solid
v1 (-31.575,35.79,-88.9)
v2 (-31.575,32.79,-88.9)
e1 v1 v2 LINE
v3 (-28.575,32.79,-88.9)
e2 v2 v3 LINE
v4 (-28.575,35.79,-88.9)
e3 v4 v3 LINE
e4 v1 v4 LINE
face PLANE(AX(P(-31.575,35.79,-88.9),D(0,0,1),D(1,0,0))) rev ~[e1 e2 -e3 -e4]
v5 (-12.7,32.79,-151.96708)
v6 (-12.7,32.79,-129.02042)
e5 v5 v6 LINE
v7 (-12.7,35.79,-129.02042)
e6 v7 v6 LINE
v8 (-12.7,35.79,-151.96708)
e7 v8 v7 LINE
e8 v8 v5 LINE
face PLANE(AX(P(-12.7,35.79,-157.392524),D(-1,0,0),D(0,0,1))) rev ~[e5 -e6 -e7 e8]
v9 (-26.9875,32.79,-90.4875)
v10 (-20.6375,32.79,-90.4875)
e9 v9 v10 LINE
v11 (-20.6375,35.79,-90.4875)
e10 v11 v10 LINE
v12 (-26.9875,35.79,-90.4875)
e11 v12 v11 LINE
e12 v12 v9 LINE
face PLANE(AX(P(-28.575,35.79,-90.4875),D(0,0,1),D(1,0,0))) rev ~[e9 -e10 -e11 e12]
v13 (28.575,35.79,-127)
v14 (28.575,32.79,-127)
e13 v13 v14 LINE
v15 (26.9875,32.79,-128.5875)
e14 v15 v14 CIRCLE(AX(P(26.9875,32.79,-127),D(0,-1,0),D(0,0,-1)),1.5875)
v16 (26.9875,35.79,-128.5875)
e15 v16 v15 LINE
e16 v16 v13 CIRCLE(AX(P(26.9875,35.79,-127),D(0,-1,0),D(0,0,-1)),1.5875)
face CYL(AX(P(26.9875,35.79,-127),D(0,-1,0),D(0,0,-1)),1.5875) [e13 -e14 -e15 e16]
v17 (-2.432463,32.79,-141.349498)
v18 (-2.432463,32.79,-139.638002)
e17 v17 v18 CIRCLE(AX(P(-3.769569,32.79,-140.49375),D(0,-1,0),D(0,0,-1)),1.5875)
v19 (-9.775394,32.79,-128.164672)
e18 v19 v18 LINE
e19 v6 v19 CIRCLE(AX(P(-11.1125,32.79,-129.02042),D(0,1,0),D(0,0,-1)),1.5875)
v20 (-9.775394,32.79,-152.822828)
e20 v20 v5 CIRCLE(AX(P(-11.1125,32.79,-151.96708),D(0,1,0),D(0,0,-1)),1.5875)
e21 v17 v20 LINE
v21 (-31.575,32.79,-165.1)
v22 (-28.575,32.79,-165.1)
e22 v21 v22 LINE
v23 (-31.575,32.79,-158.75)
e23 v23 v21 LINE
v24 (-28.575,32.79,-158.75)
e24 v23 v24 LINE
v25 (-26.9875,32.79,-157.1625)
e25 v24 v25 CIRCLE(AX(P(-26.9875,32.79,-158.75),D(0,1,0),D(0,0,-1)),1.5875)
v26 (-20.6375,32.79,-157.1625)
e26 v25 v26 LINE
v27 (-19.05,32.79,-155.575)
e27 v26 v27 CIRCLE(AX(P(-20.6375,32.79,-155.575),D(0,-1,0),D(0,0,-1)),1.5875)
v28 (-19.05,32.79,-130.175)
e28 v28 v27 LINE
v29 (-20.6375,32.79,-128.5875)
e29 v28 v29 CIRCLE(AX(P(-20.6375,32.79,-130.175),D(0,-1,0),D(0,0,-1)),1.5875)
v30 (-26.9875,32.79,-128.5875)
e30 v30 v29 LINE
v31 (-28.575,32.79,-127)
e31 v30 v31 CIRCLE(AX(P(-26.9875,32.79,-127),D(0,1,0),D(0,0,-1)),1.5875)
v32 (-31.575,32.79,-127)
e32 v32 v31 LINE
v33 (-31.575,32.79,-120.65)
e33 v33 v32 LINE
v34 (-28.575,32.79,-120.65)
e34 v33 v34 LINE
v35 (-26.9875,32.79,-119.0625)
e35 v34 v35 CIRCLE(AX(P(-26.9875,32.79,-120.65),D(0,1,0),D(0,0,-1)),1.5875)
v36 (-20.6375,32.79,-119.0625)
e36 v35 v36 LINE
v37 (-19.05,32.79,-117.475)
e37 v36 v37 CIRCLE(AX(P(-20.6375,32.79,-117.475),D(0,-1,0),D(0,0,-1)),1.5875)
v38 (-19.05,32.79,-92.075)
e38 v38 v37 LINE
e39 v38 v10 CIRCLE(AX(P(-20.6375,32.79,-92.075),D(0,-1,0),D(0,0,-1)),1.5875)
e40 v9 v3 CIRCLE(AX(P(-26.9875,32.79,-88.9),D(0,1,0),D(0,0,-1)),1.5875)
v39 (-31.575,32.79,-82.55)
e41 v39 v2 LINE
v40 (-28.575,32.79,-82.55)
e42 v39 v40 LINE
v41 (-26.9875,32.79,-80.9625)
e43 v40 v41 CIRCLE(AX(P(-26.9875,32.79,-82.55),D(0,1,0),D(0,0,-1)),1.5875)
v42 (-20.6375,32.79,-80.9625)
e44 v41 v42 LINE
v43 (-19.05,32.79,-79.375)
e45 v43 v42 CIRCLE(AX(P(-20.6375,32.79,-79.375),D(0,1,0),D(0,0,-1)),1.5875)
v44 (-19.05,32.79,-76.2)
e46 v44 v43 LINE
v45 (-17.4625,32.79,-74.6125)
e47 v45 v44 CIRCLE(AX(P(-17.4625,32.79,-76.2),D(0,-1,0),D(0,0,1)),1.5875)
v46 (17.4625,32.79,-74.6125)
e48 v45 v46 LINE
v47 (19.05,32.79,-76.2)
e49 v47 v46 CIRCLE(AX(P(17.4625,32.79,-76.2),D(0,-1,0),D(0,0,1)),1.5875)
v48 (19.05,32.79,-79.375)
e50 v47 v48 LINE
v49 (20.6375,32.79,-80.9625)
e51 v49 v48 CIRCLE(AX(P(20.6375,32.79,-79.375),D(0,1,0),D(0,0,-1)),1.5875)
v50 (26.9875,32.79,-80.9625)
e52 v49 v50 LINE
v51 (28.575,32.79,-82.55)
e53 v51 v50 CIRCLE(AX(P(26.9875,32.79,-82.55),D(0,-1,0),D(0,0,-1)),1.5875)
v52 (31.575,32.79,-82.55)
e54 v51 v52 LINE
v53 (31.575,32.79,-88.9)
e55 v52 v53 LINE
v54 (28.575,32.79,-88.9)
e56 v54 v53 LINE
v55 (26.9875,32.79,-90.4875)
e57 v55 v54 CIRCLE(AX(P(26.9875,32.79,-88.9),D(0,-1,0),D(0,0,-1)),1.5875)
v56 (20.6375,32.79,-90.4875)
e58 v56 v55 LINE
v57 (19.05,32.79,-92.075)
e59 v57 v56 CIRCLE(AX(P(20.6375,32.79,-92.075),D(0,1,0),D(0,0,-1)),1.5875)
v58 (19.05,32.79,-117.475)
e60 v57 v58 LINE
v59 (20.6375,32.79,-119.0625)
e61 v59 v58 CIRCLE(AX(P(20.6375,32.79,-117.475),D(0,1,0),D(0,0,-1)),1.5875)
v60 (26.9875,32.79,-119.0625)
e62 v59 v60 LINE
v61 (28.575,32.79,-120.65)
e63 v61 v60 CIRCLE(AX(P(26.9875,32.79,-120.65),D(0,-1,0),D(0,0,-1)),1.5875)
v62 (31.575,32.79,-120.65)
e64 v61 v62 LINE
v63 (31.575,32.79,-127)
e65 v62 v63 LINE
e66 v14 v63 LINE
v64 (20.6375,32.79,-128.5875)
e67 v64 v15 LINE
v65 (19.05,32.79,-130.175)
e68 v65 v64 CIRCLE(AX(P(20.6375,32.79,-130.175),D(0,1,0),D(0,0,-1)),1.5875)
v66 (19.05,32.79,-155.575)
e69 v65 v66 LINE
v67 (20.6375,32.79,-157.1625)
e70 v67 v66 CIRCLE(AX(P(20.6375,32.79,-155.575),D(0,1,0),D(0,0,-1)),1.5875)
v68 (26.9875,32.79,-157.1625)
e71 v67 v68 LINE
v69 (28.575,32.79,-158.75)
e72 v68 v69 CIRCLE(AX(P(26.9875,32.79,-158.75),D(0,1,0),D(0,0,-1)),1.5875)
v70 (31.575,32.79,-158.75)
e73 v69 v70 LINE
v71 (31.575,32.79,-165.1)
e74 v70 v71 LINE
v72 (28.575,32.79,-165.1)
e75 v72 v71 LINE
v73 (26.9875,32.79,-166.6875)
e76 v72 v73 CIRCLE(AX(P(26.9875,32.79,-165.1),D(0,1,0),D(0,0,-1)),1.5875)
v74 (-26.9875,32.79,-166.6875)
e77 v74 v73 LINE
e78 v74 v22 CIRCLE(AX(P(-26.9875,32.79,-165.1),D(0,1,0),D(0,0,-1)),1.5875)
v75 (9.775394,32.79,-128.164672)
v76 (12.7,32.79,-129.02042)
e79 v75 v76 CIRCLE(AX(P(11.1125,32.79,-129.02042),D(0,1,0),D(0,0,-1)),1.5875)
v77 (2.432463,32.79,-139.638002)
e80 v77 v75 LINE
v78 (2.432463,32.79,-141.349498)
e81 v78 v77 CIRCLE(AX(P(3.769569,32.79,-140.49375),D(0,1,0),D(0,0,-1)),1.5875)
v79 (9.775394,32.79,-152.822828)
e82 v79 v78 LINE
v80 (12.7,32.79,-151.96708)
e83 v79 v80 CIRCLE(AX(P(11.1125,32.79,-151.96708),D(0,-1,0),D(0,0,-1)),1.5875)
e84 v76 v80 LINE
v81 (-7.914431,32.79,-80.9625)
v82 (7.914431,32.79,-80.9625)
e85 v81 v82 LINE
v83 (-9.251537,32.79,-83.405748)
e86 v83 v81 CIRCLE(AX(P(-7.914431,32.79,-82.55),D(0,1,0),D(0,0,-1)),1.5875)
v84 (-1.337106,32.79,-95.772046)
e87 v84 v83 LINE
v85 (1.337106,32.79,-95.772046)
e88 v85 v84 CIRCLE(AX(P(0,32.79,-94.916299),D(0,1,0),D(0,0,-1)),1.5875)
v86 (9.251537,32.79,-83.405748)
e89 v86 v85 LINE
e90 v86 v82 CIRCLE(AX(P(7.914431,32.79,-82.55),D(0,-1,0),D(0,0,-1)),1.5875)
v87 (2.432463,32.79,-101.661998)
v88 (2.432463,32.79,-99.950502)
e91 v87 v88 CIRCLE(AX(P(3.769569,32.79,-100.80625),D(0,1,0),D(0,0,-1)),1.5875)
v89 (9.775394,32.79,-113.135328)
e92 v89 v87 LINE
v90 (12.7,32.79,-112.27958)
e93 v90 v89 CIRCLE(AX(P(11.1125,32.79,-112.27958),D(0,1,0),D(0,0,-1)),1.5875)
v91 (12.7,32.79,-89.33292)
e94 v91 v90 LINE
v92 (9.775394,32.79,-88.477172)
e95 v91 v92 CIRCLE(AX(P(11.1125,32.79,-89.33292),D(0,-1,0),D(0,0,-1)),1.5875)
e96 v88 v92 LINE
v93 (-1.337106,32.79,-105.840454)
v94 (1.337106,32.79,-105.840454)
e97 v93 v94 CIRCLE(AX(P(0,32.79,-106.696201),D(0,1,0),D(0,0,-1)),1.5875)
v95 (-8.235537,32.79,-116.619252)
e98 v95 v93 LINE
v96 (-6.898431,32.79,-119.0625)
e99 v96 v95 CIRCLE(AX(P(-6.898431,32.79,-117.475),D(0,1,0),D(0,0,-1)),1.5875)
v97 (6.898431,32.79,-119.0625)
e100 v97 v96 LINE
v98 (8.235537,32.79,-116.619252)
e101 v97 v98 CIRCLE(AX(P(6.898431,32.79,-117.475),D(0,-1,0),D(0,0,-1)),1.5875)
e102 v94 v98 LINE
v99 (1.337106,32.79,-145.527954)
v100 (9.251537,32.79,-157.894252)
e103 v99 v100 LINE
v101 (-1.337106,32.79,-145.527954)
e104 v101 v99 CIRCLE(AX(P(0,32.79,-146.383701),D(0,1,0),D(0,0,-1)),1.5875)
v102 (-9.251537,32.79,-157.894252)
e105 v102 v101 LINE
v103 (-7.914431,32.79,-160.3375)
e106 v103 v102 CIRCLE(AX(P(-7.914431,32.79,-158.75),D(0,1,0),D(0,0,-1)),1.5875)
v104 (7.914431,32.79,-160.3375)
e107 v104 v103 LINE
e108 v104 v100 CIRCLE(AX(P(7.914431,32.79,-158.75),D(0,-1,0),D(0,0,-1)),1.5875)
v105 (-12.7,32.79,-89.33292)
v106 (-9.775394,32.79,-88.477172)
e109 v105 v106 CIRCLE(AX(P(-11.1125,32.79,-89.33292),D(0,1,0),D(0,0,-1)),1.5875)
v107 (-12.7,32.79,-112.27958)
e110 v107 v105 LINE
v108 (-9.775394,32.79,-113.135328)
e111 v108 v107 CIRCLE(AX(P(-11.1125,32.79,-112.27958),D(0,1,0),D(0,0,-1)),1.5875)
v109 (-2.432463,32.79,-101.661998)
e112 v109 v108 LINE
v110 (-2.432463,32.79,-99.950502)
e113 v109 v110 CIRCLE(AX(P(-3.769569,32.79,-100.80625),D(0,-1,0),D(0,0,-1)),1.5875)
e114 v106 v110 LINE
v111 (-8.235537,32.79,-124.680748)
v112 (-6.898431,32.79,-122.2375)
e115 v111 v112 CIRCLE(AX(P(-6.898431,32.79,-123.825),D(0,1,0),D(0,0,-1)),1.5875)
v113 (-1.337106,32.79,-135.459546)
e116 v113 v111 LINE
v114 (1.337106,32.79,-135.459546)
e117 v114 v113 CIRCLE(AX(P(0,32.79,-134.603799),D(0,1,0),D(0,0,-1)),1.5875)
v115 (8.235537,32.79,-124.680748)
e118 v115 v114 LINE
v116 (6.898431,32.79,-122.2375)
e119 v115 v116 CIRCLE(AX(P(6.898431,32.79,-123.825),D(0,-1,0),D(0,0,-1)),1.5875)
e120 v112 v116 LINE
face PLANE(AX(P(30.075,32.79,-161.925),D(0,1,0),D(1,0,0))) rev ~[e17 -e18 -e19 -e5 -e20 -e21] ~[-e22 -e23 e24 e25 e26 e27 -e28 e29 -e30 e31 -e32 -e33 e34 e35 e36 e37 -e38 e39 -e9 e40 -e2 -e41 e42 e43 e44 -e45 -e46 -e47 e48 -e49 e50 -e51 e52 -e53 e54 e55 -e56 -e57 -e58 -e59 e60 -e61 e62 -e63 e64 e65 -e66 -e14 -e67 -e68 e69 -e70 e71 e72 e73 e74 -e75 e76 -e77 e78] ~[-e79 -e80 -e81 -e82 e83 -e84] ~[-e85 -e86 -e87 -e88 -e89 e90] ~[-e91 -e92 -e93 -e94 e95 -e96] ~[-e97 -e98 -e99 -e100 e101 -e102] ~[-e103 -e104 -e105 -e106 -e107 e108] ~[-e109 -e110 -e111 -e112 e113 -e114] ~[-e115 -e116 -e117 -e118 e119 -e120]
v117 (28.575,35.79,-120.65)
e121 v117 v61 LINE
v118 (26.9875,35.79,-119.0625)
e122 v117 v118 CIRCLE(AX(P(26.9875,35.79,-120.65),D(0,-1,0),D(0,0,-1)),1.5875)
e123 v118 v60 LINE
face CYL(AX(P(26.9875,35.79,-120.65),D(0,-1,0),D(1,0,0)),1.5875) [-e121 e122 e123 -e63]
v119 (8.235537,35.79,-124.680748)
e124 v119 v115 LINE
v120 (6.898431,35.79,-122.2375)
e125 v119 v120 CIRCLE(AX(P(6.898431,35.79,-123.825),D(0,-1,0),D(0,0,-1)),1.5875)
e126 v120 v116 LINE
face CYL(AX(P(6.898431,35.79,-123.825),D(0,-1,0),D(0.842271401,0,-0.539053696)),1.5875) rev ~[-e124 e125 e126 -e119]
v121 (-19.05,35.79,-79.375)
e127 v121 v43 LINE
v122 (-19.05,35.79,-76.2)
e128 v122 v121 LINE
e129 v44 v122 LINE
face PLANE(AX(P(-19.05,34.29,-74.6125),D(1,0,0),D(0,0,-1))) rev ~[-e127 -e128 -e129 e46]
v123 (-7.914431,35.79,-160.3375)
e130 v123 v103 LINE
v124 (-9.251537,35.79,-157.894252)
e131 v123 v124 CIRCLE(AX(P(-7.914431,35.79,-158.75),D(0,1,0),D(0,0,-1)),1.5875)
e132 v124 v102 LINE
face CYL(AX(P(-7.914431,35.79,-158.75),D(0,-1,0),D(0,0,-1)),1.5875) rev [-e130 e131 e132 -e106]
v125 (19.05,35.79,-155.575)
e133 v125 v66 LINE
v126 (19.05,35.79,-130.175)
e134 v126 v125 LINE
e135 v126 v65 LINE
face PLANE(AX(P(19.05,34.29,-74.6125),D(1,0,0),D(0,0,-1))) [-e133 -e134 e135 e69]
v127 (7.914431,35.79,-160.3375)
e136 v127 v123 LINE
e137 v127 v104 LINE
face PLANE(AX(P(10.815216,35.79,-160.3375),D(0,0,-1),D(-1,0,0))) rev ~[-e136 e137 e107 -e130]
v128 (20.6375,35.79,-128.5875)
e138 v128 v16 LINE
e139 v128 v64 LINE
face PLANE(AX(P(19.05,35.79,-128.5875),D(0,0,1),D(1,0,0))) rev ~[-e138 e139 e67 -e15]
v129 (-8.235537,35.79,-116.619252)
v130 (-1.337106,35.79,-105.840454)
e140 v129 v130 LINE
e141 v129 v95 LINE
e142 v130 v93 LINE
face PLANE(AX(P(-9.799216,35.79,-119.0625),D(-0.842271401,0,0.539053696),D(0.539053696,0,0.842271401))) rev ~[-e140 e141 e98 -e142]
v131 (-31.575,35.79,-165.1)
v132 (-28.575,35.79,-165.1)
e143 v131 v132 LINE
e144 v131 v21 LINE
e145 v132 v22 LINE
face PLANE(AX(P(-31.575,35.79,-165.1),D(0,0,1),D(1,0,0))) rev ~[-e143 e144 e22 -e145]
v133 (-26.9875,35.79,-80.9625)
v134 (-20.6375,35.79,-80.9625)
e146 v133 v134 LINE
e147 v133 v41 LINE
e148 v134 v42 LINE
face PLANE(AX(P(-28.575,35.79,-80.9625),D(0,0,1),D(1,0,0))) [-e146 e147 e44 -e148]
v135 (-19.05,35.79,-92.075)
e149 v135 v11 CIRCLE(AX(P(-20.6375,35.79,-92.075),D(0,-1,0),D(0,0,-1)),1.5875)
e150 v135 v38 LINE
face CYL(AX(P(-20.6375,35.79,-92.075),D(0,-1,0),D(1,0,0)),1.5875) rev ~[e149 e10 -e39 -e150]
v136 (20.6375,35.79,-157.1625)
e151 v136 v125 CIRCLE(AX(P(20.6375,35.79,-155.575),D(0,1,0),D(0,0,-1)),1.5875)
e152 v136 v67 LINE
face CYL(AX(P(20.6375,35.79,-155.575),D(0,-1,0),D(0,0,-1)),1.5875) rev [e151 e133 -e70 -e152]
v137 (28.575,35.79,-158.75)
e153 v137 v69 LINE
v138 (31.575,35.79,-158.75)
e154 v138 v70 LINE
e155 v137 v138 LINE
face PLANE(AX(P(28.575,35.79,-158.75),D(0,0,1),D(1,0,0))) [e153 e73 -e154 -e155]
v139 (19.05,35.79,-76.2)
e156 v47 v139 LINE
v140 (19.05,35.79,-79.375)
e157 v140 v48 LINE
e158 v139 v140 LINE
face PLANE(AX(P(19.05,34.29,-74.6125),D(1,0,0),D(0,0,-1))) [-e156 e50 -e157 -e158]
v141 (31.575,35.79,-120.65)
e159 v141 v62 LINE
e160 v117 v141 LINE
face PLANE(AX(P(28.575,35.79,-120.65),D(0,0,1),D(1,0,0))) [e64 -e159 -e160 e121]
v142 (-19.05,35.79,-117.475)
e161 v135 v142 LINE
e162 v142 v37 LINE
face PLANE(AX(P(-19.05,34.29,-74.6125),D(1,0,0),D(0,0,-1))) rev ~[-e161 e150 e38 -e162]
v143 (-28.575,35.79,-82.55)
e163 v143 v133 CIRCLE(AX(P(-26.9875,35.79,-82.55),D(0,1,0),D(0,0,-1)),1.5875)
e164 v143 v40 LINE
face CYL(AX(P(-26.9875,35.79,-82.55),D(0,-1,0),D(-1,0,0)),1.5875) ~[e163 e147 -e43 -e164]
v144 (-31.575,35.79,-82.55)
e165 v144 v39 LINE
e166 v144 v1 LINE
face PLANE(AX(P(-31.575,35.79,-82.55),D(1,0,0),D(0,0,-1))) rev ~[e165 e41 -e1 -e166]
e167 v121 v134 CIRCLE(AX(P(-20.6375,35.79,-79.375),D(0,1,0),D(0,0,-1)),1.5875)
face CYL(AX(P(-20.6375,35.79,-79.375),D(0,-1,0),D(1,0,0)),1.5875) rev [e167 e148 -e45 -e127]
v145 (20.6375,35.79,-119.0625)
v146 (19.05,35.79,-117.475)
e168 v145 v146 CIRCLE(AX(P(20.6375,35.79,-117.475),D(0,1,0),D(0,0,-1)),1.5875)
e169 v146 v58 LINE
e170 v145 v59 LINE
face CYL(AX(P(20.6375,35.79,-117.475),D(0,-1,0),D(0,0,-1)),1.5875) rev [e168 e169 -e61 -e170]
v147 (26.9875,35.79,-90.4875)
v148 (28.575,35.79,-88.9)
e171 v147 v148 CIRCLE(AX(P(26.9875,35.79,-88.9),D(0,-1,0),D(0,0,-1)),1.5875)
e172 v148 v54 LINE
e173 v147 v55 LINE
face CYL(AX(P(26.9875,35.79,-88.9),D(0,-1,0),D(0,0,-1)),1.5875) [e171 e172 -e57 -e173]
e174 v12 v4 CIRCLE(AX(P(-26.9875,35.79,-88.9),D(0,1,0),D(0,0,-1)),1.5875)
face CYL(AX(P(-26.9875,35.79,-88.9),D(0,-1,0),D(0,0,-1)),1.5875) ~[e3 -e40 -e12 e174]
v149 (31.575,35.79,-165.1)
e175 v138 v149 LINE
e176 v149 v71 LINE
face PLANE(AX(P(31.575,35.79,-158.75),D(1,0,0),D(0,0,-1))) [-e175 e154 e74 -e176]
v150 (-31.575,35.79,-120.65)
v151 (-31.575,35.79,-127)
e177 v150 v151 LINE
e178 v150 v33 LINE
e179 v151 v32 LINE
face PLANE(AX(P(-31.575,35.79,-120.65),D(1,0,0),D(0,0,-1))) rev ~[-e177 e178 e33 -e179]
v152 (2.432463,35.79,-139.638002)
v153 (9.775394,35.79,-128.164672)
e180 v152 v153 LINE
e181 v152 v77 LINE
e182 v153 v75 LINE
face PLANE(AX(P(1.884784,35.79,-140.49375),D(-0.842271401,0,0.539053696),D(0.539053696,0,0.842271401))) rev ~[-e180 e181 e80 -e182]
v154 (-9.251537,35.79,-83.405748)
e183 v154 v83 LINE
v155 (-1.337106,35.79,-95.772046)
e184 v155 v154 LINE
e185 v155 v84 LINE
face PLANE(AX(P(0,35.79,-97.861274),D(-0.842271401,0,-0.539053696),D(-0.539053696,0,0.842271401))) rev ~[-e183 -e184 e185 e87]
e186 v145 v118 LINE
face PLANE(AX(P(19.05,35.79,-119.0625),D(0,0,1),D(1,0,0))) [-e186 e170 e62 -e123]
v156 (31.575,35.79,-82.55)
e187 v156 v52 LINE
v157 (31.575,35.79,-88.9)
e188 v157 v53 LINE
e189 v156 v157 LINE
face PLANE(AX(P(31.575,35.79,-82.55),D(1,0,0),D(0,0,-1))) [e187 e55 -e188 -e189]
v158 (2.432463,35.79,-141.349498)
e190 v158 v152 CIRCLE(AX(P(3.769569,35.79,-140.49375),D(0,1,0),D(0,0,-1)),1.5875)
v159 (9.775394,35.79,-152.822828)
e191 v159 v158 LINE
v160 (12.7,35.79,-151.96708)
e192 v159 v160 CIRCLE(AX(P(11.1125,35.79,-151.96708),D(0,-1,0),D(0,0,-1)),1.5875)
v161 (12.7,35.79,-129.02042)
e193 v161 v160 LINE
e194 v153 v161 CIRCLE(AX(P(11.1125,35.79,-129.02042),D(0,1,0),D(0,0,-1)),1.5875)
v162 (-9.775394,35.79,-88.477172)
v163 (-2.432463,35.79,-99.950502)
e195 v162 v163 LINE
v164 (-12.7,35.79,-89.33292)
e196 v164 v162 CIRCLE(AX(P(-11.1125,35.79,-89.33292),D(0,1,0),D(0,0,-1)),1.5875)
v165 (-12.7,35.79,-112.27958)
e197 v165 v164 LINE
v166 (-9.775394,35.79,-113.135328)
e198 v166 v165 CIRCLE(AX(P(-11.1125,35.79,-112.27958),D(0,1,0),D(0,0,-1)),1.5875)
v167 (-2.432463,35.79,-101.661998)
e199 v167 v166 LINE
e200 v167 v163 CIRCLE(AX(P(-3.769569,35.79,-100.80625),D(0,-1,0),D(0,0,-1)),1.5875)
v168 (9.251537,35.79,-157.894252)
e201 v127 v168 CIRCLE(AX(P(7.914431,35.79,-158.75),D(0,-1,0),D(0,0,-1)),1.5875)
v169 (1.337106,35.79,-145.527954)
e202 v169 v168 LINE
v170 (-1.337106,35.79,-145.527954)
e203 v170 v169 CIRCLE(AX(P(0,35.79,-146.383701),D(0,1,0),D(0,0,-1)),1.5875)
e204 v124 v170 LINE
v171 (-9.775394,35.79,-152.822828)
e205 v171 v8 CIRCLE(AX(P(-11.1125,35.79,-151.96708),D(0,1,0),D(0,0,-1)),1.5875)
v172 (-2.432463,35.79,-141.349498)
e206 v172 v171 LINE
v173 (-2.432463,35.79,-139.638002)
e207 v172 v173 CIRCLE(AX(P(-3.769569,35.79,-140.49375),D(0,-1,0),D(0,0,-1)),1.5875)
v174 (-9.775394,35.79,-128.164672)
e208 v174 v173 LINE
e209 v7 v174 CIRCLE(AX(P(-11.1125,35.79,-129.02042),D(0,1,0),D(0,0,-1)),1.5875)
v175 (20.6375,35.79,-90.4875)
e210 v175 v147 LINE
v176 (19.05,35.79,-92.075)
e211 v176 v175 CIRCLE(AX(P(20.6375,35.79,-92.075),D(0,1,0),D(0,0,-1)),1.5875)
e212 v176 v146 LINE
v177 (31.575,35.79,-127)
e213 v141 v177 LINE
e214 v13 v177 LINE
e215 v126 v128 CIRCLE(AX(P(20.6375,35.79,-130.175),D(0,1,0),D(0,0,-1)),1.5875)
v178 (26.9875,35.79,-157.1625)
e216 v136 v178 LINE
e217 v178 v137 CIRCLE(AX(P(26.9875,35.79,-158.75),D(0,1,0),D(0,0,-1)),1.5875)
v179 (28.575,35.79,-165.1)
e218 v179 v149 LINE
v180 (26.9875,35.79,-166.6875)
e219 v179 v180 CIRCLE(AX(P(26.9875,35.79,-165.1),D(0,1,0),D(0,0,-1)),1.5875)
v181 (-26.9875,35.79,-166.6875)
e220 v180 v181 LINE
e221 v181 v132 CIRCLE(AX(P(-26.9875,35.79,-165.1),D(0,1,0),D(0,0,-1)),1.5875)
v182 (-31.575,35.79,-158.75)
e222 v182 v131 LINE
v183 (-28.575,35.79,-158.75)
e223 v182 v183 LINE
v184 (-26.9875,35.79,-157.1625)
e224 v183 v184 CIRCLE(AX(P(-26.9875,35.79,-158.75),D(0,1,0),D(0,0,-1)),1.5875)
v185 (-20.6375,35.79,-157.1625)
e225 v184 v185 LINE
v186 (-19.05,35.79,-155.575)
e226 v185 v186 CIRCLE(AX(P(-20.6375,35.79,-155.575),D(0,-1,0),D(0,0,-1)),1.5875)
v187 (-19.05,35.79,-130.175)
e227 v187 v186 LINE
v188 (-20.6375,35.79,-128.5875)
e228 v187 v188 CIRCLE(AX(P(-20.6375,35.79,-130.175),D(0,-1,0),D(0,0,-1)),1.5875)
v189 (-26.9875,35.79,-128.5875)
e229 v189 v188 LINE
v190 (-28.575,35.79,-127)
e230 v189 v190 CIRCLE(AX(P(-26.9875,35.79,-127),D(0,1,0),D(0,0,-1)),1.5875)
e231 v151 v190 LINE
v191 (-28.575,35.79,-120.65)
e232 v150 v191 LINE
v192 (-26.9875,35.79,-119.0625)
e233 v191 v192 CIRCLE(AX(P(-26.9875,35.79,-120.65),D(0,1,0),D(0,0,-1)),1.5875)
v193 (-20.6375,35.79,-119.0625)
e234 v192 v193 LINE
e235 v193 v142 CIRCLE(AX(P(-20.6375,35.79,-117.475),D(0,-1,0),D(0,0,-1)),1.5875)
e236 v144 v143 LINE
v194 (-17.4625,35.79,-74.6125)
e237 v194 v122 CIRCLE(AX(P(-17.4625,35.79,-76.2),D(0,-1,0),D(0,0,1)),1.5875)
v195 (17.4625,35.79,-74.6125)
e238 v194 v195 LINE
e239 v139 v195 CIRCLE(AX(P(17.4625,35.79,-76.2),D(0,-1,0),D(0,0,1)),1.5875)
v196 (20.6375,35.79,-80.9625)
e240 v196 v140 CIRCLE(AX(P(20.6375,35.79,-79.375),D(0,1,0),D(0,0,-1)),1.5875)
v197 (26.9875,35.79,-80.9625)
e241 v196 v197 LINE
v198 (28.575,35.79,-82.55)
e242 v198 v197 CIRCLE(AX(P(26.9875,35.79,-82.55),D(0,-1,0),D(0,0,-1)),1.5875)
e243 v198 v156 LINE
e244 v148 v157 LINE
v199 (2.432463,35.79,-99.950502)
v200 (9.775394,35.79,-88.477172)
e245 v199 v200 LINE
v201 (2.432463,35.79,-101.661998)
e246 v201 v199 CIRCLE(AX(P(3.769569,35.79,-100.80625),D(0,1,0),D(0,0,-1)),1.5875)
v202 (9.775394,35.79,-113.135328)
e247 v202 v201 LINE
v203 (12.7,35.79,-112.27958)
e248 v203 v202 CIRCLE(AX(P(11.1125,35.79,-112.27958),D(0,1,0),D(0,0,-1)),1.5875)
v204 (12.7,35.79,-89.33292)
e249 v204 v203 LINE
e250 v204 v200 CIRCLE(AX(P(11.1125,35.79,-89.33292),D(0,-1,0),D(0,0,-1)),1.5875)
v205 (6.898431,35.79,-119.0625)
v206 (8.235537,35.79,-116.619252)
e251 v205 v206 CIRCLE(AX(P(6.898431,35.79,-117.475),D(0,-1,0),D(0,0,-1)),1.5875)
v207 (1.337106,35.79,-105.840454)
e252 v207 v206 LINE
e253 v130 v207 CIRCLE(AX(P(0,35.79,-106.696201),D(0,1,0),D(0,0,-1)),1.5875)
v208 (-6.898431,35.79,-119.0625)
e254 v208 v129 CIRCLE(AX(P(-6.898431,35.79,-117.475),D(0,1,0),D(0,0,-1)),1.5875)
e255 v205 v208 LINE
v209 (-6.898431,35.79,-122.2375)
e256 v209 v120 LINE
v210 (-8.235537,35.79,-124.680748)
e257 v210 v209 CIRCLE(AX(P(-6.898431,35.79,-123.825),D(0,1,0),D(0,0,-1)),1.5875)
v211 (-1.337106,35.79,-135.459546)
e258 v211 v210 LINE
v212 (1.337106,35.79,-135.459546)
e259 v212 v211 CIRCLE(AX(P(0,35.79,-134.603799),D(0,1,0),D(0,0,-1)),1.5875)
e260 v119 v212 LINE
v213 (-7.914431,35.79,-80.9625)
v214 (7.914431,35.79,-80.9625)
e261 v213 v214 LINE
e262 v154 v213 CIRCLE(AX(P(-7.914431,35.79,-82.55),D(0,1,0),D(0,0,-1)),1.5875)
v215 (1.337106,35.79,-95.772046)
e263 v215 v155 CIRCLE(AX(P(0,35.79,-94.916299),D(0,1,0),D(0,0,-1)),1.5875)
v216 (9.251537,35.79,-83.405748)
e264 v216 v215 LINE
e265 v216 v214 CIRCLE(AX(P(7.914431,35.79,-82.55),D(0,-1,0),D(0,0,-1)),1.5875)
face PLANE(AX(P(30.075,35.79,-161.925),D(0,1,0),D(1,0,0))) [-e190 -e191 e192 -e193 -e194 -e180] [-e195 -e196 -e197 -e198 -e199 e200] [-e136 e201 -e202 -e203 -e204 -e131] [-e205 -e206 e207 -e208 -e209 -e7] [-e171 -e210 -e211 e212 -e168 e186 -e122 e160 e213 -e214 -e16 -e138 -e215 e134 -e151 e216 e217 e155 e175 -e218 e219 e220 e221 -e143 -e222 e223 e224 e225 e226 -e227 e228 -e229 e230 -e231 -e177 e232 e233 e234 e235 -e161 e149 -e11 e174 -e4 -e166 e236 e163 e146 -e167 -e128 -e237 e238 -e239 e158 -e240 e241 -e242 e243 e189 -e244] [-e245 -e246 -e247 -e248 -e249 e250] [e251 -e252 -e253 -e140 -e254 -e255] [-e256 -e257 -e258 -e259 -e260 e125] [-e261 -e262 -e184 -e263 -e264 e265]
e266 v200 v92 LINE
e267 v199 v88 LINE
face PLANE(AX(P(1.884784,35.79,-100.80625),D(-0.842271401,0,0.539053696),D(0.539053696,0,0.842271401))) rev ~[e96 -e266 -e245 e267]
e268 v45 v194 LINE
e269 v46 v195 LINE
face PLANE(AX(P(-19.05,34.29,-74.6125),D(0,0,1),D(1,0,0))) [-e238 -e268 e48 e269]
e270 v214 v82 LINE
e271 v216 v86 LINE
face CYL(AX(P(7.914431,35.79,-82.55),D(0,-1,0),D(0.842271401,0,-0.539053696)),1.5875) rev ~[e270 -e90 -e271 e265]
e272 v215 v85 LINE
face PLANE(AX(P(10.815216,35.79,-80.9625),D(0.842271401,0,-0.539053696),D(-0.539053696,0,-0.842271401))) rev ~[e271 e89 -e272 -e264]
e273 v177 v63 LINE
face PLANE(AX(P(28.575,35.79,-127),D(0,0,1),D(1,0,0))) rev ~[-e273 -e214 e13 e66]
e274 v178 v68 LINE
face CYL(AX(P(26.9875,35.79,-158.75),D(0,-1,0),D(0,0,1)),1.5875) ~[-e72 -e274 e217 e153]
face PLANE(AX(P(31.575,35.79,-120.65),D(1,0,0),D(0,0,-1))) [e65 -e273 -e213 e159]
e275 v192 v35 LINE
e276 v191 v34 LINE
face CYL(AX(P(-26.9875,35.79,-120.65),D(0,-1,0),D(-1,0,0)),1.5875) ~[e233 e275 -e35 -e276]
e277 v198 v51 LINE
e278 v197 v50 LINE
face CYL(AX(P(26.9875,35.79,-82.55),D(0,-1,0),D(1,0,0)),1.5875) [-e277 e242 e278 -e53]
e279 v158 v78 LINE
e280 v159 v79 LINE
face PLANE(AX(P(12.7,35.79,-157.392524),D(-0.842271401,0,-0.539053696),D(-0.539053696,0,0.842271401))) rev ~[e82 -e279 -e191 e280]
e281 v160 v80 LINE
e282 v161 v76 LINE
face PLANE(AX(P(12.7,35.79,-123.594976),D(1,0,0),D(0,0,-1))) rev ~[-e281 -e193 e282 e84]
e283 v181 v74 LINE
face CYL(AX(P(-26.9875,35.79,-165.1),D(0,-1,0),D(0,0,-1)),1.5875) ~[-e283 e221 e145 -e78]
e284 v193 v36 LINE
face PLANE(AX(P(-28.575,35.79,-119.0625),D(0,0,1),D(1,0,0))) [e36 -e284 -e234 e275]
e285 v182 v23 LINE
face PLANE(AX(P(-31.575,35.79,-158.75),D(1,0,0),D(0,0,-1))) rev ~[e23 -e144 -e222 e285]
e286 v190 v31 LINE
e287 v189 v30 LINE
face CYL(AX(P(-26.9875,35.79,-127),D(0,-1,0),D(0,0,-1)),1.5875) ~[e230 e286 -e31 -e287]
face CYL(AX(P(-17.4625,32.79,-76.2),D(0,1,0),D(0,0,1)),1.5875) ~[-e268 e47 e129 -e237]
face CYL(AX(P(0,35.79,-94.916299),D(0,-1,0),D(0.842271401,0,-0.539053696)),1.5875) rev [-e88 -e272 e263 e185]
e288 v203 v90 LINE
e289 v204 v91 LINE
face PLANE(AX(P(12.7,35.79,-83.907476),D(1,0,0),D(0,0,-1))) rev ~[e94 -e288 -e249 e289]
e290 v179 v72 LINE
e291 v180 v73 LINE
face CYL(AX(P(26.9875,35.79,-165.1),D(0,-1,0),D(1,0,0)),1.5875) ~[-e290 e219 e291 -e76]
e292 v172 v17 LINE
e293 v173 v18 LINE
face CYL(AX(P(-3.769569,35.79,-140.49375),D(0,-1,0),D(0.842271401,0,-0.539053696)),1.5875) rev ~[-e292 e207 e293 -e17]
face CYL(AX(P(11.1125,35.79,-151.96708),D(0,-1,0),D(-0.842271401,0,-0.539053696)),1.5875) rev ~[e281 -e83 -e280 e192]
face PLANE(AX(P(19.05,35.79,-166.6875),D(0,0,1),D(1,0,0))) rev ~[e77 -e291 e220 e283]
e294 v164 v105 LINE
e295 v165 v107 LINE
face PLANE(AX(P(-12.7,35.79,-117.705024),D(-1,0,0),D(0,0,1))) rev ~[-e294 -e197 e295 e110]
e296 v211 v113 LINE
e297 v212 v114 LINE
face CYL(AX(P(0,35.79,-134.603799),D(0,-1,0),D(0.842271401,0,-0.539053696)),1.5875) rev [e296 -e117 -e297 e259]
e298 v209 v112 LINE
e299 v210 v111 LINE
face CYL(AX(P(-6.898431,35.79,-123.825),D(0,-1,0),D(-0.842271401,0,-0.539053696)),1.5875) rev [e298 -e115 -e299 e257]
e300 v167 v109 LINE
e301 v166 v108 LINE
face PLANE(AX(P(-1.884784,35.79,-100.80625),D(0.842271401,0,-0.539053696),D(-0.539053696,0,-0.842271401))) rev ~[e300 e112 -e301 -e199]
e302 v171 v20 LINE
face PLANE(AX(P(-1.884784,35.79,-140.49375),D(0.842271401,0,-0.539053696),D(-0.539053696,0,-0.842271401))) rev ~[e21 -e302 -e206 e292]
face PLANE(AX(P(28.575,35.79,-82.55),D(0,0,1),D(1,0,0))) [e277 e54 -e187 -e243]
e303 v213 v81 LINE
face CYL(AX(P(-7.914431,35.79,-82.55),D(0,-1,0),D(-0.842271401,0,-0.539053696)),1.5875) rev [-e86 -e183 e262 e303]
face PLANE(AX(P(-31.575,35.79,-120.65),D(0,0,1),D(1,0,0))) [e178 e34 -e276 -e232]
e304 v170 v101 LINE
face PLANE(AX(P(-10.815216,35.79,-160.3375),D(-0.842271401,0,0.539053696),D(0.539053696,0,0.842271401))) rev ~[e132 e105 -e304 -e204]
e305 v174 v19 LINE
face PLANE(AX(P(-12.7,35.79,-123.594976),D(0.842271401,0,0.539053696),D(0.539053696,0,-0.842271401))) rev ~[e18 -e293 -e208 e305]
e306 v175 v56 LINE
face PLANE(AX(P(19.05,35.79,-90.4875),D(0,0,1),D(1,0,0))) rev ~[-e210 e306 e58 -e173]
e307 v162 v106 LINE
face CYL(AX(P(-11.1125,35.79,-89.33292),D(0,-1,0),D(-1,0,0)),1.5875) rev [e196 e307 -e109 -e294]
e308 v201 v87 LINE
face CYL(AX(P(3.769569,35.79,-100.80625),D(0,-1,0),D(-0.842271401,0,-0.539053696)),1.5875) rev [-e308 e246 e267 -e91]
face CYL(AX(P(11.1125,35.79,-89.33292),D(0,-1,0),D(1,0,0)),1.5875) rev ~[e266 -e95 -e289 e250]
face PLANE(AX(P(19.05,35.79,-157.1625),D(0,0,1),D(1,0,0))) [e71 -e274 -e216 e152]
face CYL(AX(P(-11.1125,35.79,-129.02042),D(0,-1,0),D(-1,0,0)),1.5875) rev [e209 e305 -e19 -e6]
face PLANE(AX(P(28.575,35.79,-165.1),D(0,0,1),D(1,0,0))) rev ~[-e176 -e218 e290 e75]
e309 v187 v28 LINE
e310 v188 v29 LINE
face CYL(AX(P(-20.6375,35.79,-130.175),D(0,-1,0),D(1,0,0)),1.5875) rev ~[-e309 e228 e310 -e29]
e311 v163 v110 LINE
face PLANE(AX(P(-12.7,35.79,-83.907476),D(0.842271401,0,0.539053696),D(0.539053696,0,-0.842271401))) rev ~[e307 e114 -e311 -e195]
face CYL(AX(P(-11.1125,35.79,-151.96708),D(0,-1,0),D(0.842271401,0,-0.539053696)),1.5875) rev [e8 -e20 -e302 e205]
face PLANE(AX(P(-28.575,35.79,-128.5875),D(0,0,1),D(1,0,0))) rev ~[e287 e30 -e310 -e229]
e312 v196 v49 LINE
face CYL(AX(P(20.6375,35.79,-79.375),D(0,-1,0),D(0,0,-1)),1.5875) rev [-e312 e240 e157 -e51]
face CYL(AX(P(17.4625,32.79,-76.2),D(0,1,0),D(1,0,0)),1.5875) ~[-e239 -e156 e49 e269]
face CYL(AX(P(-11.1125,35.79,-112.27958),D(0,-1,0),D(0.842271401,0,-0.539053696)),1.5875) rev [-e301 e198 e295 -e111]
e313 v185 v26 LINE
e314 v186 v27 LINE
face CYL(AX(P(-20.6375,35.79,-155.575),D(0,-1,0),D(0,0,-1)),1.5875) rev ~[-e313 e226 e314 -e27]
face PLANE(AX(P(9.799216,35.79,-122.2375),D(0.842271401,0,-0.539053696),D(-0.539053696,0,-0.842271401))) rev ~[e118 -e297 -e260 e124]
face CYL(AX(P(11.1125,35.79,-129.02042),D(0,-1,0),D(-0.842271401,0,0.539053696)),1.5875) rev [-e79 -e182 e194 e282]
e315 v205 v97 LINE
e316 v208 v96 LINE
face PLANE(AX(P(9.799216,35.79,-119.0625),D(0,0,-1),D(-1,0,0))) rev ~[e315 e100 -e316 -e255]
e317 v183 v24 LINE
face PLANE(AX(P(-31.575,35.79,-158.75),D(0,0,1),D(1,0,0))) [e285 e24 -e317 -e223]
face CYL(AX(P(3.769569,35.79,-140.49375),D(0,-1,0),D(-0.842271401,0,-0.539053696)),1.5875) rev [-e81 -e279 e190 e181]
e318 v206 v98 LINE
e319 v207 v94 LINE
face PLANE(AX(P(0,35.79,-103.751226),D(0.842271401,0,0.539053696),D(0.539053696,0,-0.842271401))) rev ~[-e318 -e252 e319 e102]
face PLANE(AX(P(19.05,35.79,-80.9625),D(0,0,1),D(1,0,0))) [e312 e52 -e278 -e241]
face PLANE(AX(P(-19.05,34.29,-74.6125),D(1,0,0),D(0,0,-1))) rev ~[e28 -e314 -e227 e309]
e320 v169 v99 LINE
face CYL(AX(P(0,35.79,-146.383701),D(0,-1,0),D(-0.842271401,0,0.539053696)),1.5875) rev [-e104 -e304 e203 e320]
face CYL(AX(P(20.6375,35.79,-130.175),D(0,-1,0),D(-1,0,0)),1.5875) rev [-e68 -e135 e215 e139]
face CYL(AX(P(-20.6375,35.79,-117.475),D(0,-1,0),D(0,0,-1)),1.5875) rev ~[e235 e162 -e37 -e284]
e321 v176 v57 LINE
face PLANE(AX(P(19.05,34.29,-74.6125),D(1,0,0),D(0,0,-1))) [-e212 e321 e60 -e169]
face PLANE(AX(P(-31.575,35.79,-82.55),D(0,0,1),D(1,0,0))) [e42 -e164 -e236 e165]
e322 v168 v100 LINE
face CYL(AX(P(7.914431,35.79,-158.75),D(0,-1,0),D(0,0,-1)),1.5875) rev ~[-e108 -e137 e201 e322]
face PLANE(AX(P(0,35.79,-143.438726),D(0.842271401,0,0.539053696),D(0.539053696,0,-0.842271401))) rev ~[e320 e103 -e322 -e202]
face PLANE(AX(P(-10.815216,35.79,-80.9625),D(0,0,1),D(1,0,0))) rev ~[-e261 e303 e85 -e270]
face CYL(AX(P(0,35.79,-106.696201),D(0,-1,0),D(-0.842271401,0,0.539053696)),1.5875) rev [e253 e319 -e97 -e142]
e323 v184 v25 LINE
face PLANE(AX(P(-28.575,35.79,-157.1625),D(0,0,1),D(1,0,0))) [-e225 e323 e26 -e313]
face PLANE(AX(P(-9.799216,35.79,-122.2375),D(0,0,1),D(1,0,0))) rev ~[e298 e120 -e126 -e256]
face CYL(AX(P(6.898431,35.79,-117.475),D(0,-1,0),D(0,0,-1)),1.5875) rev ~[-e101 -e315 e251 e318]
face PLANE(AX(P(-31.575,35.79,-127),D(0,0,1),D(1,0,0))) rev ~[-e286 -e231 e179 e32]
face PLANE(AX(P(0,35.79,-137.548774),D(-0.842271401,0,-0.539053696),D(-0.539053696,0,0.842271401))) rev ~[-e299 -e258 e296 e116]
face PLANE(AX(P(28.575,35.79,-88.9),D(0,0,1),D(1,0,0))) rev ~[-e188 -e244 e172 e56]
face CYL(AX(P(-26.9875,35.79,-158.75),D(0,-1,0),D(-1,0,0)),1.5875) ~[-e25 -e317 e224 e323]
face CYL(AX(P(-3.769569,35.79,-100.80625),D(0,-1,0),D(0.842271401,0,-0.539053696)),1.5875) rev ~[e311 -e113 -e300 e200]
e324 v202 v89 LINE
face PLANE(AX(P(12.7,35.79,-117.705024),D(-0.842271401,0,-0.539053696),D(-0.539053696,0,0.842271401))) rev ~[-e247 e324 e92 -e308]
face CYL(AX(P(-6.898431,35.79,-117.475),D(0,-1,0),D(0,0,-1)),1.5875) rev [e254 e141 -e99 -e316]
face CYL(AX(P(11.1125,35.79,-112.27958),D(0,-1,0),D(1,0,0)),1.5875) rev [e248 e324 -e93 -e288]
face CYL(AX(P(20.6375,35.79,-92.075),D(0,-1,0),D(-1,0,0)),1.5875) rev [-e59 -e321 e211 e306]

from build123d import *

# Parameters (mm, degrees)
SKETCH1_W           = 38.1
SKETCH1_H           = 92.075
BOSS_EXTRUDE1_DEPTH = 1.5
SKETCH2_W           = 9.525
SKETCH2_H           = 9.525
BOSS_EXTRUDE2_DEPTH = 3
CUT_EXTRUDE1_DEPTH  = 3
FILLET1_R           = 1.5875
SKETCH5_W           = 3
SKETCH5_H           = 6.35
BOSS_EXTRUDE3_DEPTH = 3


with BuildPart() as part:
    # Sketch1 → Boss-Extrude1 (new, symmetric)
    with BuildSketch(Plane(origin=(0, 34.29, 0), x_dir=(1, 0, 0), z_dir=(0, 1, 0))):
        with Locations((0, 120.65)):
            Rectangle(SKETCH1_W, SKETCH1_H)
    extrude(amount=BOSS_EXTRUDE1_DEPTH, both=True)

    # Sketch2 → Boss-Extrude2 (add)
    with BuildSketch(Plane(origin=(0, 35.79, 0), x_dir=(1, 0, 0), z_dir=(0, 1, 0))):
        with Locations((23.8125, 161.925)):
            Rectangle(SKETCH2_W, SKETCH2_H)
        with Locations((-23.8125, 161.925)):
            Rectangle(SKETCH2_W, SKETCH2_H)
        with Locations((23.8125, 123.825)):
            Rectangle(SKETCH2_W, SKETCH2_H)
        with Locations((-23.8125, 123.825)):
            Rectangle(SKETCH2_W, SKETCH2_H)
        with Locations((23.8125, 85.725)):
            Rectangle(SKETCH2_W, SKETCH2_H)
        with Locations((-23.8125, 85.725)):
            Rectangle(SKETCH2_W, SKETCH2_H)
    extrude(amount=-BOSS_EXTRUDE2_DEPTH)

    # Sketch4 → Cut-Extrude1 (cut)
    with BuildSketch(Plane(origin=(0, 35.79, 0), x_dir=(1, 0, 0), z_dir=(0, 1, 0))):
        Polygon((10.815215596, 160.3375), (-10.815215596, 160.3375), (0, 143.438725631), align=None)
        Polygon((-1.884784404, 140.49375), (-12.7, 157.392524369), (-12.7, 123.594975631), align=None)
        Polygon((12.7, 157.392524369), (1.884784404, 140.49375), (12.7, 123.594975631), align=None)
        Polygon((9.799215596, 122.2375), (0, 137.548774369), (-9.799215596, 122.2375), align=None)
        Polygon((-1.884784404, 100.80625), (-12.7, 117.705024369), (-12.7, 83.907475631), align=None)
        Polygon((9.799215596, 119.0625), (-9.799215596, 119.0625), (0, 103.751225631), align=None)
        Polygon((12.7, 83.907475631), (12.7, 117.705024369), (1.884784404, 100.80625), align=None)
        Polygon((10.815215596, 80.9625), (0, 97.861274369), (-10.815215596, 80.9625), align=None)
    extrude(amount=-CUT_EXTRUDE1_DEPTH, mode=Mode.SUBTRACT)

    # Fillet1
    fillet1_edges = [part.edges().sort_by_distance(p)[0] for p in [
        (9.799215596, 34.29, -122.2375),
        (-9.799215596, 34.29, -122.2375),
        (0, 34.29, -137.548774369),
        (9.799215596, 34.29, -119.0625),
        (0, 34.29, -103.751225631),
        (-9.799215596, 34.29, -119.0625),
        (10.815215596, 34.29, -80.9625),
        (-10.815215596, 34.29, -80.9625),
        (0, 34.29, -97.861274369),
        (-1.884784404, 34.29, -100.80625),
        (-12.7, 34.29, -83.907475631),
        (-12.7, 34.29, -117.705024369),
        (-1.884784404, 34.29, -140.49375),
        (-12.7, 34.29, -123.594975631),
        (-12.7, 34.29, -157.392524369),
        (12.7, 34.29, -123.594975631),
        (1.884784404, 34.29, -140.49375),
        (12.7, 34.29, -157.392524369),
        (0, 34.29, -143.438725631),
        (-10.815215596, 34.29, -160.3375),
        (10.815215596, 34.29, -160.3375),
        (12.7, 34.29, -117.705024369),
        (12.7, 34.29, -83.907475631),
        (1.884784404, 34.29, -100.80625),
        (28.575, 34.29, -80.9625),
        (28.575, 34.29, -90.4875),
        (19.05, 34.29, -90.4875),
        (19.05, 34.29, -80.9625),
        (-19.05, 34.29, -119.0625),
        (-19.05, 34.29, -128.5875),
        (-28.575, 34.29, -128.5875),
        (-28.575, 34.29, -119.0625),
        (28.575, 34.29, -119.0625),
        (28.575, 34.29, -128.5875),
        (19.05, 34.29, -128.5875),
        (19.05, 34.29, -119.0625),
        (-19.05, 34.29, -157.1625),
        (-28.575, 34.29, -166.6875),
        (-28.575, 34.29, -157.1625),
        (-19.05, 34.29, -80.9625),
        (-19.05, 34.29, -90.4875),
        (-28.575, 34.29, -90.4875),
        (-28.575, 34.29, -80.9625),
        (28.575, 34.29, -157.1625),
        (28.575, 34.29, -166.6875),
        (19.05, 34.29, -157.1625),
        (-19.05, 34.29, -74.6125),
        (19.05, 34.29, -74.6125),
    ]]
    fillet(fillet1_edges, radius=FILLET1_R)

    # Sketch5 → Boss-Extrude3 (add)
    with BuildSketch(Plane(origin=(0, 35.79, 0), x_dir=(1, 0, 0), z_dir=(0, 1, 0))):
        with Locations((30.075, 161.925)):
            Rectangle(SKETCH5_W, SKETCH5_H)
        with Locations((-30.075, 161.925)):
            Rectangle(SKETCH5_W, SKETCH5_H)
        with Locations((30.075, 123.825)):
            Rectangle(SKETCH5_W, SKETCH5_H)
        with Locations((-30.075, 123.825)):
            Rectangle(SKETCH5_W, SKETCH5_H)
        with Locations((30.075, 85.725)):
            Rectangle(SKETCH5_W, SKETCH5_H)
        with Locations((-30.075, 85.725)):
            Rectangle(SKETCH5_W, SKETCH5_H)
    extrude(amount=-BOSS_EXTRUDE3_DEPTH)


solid = part.part
